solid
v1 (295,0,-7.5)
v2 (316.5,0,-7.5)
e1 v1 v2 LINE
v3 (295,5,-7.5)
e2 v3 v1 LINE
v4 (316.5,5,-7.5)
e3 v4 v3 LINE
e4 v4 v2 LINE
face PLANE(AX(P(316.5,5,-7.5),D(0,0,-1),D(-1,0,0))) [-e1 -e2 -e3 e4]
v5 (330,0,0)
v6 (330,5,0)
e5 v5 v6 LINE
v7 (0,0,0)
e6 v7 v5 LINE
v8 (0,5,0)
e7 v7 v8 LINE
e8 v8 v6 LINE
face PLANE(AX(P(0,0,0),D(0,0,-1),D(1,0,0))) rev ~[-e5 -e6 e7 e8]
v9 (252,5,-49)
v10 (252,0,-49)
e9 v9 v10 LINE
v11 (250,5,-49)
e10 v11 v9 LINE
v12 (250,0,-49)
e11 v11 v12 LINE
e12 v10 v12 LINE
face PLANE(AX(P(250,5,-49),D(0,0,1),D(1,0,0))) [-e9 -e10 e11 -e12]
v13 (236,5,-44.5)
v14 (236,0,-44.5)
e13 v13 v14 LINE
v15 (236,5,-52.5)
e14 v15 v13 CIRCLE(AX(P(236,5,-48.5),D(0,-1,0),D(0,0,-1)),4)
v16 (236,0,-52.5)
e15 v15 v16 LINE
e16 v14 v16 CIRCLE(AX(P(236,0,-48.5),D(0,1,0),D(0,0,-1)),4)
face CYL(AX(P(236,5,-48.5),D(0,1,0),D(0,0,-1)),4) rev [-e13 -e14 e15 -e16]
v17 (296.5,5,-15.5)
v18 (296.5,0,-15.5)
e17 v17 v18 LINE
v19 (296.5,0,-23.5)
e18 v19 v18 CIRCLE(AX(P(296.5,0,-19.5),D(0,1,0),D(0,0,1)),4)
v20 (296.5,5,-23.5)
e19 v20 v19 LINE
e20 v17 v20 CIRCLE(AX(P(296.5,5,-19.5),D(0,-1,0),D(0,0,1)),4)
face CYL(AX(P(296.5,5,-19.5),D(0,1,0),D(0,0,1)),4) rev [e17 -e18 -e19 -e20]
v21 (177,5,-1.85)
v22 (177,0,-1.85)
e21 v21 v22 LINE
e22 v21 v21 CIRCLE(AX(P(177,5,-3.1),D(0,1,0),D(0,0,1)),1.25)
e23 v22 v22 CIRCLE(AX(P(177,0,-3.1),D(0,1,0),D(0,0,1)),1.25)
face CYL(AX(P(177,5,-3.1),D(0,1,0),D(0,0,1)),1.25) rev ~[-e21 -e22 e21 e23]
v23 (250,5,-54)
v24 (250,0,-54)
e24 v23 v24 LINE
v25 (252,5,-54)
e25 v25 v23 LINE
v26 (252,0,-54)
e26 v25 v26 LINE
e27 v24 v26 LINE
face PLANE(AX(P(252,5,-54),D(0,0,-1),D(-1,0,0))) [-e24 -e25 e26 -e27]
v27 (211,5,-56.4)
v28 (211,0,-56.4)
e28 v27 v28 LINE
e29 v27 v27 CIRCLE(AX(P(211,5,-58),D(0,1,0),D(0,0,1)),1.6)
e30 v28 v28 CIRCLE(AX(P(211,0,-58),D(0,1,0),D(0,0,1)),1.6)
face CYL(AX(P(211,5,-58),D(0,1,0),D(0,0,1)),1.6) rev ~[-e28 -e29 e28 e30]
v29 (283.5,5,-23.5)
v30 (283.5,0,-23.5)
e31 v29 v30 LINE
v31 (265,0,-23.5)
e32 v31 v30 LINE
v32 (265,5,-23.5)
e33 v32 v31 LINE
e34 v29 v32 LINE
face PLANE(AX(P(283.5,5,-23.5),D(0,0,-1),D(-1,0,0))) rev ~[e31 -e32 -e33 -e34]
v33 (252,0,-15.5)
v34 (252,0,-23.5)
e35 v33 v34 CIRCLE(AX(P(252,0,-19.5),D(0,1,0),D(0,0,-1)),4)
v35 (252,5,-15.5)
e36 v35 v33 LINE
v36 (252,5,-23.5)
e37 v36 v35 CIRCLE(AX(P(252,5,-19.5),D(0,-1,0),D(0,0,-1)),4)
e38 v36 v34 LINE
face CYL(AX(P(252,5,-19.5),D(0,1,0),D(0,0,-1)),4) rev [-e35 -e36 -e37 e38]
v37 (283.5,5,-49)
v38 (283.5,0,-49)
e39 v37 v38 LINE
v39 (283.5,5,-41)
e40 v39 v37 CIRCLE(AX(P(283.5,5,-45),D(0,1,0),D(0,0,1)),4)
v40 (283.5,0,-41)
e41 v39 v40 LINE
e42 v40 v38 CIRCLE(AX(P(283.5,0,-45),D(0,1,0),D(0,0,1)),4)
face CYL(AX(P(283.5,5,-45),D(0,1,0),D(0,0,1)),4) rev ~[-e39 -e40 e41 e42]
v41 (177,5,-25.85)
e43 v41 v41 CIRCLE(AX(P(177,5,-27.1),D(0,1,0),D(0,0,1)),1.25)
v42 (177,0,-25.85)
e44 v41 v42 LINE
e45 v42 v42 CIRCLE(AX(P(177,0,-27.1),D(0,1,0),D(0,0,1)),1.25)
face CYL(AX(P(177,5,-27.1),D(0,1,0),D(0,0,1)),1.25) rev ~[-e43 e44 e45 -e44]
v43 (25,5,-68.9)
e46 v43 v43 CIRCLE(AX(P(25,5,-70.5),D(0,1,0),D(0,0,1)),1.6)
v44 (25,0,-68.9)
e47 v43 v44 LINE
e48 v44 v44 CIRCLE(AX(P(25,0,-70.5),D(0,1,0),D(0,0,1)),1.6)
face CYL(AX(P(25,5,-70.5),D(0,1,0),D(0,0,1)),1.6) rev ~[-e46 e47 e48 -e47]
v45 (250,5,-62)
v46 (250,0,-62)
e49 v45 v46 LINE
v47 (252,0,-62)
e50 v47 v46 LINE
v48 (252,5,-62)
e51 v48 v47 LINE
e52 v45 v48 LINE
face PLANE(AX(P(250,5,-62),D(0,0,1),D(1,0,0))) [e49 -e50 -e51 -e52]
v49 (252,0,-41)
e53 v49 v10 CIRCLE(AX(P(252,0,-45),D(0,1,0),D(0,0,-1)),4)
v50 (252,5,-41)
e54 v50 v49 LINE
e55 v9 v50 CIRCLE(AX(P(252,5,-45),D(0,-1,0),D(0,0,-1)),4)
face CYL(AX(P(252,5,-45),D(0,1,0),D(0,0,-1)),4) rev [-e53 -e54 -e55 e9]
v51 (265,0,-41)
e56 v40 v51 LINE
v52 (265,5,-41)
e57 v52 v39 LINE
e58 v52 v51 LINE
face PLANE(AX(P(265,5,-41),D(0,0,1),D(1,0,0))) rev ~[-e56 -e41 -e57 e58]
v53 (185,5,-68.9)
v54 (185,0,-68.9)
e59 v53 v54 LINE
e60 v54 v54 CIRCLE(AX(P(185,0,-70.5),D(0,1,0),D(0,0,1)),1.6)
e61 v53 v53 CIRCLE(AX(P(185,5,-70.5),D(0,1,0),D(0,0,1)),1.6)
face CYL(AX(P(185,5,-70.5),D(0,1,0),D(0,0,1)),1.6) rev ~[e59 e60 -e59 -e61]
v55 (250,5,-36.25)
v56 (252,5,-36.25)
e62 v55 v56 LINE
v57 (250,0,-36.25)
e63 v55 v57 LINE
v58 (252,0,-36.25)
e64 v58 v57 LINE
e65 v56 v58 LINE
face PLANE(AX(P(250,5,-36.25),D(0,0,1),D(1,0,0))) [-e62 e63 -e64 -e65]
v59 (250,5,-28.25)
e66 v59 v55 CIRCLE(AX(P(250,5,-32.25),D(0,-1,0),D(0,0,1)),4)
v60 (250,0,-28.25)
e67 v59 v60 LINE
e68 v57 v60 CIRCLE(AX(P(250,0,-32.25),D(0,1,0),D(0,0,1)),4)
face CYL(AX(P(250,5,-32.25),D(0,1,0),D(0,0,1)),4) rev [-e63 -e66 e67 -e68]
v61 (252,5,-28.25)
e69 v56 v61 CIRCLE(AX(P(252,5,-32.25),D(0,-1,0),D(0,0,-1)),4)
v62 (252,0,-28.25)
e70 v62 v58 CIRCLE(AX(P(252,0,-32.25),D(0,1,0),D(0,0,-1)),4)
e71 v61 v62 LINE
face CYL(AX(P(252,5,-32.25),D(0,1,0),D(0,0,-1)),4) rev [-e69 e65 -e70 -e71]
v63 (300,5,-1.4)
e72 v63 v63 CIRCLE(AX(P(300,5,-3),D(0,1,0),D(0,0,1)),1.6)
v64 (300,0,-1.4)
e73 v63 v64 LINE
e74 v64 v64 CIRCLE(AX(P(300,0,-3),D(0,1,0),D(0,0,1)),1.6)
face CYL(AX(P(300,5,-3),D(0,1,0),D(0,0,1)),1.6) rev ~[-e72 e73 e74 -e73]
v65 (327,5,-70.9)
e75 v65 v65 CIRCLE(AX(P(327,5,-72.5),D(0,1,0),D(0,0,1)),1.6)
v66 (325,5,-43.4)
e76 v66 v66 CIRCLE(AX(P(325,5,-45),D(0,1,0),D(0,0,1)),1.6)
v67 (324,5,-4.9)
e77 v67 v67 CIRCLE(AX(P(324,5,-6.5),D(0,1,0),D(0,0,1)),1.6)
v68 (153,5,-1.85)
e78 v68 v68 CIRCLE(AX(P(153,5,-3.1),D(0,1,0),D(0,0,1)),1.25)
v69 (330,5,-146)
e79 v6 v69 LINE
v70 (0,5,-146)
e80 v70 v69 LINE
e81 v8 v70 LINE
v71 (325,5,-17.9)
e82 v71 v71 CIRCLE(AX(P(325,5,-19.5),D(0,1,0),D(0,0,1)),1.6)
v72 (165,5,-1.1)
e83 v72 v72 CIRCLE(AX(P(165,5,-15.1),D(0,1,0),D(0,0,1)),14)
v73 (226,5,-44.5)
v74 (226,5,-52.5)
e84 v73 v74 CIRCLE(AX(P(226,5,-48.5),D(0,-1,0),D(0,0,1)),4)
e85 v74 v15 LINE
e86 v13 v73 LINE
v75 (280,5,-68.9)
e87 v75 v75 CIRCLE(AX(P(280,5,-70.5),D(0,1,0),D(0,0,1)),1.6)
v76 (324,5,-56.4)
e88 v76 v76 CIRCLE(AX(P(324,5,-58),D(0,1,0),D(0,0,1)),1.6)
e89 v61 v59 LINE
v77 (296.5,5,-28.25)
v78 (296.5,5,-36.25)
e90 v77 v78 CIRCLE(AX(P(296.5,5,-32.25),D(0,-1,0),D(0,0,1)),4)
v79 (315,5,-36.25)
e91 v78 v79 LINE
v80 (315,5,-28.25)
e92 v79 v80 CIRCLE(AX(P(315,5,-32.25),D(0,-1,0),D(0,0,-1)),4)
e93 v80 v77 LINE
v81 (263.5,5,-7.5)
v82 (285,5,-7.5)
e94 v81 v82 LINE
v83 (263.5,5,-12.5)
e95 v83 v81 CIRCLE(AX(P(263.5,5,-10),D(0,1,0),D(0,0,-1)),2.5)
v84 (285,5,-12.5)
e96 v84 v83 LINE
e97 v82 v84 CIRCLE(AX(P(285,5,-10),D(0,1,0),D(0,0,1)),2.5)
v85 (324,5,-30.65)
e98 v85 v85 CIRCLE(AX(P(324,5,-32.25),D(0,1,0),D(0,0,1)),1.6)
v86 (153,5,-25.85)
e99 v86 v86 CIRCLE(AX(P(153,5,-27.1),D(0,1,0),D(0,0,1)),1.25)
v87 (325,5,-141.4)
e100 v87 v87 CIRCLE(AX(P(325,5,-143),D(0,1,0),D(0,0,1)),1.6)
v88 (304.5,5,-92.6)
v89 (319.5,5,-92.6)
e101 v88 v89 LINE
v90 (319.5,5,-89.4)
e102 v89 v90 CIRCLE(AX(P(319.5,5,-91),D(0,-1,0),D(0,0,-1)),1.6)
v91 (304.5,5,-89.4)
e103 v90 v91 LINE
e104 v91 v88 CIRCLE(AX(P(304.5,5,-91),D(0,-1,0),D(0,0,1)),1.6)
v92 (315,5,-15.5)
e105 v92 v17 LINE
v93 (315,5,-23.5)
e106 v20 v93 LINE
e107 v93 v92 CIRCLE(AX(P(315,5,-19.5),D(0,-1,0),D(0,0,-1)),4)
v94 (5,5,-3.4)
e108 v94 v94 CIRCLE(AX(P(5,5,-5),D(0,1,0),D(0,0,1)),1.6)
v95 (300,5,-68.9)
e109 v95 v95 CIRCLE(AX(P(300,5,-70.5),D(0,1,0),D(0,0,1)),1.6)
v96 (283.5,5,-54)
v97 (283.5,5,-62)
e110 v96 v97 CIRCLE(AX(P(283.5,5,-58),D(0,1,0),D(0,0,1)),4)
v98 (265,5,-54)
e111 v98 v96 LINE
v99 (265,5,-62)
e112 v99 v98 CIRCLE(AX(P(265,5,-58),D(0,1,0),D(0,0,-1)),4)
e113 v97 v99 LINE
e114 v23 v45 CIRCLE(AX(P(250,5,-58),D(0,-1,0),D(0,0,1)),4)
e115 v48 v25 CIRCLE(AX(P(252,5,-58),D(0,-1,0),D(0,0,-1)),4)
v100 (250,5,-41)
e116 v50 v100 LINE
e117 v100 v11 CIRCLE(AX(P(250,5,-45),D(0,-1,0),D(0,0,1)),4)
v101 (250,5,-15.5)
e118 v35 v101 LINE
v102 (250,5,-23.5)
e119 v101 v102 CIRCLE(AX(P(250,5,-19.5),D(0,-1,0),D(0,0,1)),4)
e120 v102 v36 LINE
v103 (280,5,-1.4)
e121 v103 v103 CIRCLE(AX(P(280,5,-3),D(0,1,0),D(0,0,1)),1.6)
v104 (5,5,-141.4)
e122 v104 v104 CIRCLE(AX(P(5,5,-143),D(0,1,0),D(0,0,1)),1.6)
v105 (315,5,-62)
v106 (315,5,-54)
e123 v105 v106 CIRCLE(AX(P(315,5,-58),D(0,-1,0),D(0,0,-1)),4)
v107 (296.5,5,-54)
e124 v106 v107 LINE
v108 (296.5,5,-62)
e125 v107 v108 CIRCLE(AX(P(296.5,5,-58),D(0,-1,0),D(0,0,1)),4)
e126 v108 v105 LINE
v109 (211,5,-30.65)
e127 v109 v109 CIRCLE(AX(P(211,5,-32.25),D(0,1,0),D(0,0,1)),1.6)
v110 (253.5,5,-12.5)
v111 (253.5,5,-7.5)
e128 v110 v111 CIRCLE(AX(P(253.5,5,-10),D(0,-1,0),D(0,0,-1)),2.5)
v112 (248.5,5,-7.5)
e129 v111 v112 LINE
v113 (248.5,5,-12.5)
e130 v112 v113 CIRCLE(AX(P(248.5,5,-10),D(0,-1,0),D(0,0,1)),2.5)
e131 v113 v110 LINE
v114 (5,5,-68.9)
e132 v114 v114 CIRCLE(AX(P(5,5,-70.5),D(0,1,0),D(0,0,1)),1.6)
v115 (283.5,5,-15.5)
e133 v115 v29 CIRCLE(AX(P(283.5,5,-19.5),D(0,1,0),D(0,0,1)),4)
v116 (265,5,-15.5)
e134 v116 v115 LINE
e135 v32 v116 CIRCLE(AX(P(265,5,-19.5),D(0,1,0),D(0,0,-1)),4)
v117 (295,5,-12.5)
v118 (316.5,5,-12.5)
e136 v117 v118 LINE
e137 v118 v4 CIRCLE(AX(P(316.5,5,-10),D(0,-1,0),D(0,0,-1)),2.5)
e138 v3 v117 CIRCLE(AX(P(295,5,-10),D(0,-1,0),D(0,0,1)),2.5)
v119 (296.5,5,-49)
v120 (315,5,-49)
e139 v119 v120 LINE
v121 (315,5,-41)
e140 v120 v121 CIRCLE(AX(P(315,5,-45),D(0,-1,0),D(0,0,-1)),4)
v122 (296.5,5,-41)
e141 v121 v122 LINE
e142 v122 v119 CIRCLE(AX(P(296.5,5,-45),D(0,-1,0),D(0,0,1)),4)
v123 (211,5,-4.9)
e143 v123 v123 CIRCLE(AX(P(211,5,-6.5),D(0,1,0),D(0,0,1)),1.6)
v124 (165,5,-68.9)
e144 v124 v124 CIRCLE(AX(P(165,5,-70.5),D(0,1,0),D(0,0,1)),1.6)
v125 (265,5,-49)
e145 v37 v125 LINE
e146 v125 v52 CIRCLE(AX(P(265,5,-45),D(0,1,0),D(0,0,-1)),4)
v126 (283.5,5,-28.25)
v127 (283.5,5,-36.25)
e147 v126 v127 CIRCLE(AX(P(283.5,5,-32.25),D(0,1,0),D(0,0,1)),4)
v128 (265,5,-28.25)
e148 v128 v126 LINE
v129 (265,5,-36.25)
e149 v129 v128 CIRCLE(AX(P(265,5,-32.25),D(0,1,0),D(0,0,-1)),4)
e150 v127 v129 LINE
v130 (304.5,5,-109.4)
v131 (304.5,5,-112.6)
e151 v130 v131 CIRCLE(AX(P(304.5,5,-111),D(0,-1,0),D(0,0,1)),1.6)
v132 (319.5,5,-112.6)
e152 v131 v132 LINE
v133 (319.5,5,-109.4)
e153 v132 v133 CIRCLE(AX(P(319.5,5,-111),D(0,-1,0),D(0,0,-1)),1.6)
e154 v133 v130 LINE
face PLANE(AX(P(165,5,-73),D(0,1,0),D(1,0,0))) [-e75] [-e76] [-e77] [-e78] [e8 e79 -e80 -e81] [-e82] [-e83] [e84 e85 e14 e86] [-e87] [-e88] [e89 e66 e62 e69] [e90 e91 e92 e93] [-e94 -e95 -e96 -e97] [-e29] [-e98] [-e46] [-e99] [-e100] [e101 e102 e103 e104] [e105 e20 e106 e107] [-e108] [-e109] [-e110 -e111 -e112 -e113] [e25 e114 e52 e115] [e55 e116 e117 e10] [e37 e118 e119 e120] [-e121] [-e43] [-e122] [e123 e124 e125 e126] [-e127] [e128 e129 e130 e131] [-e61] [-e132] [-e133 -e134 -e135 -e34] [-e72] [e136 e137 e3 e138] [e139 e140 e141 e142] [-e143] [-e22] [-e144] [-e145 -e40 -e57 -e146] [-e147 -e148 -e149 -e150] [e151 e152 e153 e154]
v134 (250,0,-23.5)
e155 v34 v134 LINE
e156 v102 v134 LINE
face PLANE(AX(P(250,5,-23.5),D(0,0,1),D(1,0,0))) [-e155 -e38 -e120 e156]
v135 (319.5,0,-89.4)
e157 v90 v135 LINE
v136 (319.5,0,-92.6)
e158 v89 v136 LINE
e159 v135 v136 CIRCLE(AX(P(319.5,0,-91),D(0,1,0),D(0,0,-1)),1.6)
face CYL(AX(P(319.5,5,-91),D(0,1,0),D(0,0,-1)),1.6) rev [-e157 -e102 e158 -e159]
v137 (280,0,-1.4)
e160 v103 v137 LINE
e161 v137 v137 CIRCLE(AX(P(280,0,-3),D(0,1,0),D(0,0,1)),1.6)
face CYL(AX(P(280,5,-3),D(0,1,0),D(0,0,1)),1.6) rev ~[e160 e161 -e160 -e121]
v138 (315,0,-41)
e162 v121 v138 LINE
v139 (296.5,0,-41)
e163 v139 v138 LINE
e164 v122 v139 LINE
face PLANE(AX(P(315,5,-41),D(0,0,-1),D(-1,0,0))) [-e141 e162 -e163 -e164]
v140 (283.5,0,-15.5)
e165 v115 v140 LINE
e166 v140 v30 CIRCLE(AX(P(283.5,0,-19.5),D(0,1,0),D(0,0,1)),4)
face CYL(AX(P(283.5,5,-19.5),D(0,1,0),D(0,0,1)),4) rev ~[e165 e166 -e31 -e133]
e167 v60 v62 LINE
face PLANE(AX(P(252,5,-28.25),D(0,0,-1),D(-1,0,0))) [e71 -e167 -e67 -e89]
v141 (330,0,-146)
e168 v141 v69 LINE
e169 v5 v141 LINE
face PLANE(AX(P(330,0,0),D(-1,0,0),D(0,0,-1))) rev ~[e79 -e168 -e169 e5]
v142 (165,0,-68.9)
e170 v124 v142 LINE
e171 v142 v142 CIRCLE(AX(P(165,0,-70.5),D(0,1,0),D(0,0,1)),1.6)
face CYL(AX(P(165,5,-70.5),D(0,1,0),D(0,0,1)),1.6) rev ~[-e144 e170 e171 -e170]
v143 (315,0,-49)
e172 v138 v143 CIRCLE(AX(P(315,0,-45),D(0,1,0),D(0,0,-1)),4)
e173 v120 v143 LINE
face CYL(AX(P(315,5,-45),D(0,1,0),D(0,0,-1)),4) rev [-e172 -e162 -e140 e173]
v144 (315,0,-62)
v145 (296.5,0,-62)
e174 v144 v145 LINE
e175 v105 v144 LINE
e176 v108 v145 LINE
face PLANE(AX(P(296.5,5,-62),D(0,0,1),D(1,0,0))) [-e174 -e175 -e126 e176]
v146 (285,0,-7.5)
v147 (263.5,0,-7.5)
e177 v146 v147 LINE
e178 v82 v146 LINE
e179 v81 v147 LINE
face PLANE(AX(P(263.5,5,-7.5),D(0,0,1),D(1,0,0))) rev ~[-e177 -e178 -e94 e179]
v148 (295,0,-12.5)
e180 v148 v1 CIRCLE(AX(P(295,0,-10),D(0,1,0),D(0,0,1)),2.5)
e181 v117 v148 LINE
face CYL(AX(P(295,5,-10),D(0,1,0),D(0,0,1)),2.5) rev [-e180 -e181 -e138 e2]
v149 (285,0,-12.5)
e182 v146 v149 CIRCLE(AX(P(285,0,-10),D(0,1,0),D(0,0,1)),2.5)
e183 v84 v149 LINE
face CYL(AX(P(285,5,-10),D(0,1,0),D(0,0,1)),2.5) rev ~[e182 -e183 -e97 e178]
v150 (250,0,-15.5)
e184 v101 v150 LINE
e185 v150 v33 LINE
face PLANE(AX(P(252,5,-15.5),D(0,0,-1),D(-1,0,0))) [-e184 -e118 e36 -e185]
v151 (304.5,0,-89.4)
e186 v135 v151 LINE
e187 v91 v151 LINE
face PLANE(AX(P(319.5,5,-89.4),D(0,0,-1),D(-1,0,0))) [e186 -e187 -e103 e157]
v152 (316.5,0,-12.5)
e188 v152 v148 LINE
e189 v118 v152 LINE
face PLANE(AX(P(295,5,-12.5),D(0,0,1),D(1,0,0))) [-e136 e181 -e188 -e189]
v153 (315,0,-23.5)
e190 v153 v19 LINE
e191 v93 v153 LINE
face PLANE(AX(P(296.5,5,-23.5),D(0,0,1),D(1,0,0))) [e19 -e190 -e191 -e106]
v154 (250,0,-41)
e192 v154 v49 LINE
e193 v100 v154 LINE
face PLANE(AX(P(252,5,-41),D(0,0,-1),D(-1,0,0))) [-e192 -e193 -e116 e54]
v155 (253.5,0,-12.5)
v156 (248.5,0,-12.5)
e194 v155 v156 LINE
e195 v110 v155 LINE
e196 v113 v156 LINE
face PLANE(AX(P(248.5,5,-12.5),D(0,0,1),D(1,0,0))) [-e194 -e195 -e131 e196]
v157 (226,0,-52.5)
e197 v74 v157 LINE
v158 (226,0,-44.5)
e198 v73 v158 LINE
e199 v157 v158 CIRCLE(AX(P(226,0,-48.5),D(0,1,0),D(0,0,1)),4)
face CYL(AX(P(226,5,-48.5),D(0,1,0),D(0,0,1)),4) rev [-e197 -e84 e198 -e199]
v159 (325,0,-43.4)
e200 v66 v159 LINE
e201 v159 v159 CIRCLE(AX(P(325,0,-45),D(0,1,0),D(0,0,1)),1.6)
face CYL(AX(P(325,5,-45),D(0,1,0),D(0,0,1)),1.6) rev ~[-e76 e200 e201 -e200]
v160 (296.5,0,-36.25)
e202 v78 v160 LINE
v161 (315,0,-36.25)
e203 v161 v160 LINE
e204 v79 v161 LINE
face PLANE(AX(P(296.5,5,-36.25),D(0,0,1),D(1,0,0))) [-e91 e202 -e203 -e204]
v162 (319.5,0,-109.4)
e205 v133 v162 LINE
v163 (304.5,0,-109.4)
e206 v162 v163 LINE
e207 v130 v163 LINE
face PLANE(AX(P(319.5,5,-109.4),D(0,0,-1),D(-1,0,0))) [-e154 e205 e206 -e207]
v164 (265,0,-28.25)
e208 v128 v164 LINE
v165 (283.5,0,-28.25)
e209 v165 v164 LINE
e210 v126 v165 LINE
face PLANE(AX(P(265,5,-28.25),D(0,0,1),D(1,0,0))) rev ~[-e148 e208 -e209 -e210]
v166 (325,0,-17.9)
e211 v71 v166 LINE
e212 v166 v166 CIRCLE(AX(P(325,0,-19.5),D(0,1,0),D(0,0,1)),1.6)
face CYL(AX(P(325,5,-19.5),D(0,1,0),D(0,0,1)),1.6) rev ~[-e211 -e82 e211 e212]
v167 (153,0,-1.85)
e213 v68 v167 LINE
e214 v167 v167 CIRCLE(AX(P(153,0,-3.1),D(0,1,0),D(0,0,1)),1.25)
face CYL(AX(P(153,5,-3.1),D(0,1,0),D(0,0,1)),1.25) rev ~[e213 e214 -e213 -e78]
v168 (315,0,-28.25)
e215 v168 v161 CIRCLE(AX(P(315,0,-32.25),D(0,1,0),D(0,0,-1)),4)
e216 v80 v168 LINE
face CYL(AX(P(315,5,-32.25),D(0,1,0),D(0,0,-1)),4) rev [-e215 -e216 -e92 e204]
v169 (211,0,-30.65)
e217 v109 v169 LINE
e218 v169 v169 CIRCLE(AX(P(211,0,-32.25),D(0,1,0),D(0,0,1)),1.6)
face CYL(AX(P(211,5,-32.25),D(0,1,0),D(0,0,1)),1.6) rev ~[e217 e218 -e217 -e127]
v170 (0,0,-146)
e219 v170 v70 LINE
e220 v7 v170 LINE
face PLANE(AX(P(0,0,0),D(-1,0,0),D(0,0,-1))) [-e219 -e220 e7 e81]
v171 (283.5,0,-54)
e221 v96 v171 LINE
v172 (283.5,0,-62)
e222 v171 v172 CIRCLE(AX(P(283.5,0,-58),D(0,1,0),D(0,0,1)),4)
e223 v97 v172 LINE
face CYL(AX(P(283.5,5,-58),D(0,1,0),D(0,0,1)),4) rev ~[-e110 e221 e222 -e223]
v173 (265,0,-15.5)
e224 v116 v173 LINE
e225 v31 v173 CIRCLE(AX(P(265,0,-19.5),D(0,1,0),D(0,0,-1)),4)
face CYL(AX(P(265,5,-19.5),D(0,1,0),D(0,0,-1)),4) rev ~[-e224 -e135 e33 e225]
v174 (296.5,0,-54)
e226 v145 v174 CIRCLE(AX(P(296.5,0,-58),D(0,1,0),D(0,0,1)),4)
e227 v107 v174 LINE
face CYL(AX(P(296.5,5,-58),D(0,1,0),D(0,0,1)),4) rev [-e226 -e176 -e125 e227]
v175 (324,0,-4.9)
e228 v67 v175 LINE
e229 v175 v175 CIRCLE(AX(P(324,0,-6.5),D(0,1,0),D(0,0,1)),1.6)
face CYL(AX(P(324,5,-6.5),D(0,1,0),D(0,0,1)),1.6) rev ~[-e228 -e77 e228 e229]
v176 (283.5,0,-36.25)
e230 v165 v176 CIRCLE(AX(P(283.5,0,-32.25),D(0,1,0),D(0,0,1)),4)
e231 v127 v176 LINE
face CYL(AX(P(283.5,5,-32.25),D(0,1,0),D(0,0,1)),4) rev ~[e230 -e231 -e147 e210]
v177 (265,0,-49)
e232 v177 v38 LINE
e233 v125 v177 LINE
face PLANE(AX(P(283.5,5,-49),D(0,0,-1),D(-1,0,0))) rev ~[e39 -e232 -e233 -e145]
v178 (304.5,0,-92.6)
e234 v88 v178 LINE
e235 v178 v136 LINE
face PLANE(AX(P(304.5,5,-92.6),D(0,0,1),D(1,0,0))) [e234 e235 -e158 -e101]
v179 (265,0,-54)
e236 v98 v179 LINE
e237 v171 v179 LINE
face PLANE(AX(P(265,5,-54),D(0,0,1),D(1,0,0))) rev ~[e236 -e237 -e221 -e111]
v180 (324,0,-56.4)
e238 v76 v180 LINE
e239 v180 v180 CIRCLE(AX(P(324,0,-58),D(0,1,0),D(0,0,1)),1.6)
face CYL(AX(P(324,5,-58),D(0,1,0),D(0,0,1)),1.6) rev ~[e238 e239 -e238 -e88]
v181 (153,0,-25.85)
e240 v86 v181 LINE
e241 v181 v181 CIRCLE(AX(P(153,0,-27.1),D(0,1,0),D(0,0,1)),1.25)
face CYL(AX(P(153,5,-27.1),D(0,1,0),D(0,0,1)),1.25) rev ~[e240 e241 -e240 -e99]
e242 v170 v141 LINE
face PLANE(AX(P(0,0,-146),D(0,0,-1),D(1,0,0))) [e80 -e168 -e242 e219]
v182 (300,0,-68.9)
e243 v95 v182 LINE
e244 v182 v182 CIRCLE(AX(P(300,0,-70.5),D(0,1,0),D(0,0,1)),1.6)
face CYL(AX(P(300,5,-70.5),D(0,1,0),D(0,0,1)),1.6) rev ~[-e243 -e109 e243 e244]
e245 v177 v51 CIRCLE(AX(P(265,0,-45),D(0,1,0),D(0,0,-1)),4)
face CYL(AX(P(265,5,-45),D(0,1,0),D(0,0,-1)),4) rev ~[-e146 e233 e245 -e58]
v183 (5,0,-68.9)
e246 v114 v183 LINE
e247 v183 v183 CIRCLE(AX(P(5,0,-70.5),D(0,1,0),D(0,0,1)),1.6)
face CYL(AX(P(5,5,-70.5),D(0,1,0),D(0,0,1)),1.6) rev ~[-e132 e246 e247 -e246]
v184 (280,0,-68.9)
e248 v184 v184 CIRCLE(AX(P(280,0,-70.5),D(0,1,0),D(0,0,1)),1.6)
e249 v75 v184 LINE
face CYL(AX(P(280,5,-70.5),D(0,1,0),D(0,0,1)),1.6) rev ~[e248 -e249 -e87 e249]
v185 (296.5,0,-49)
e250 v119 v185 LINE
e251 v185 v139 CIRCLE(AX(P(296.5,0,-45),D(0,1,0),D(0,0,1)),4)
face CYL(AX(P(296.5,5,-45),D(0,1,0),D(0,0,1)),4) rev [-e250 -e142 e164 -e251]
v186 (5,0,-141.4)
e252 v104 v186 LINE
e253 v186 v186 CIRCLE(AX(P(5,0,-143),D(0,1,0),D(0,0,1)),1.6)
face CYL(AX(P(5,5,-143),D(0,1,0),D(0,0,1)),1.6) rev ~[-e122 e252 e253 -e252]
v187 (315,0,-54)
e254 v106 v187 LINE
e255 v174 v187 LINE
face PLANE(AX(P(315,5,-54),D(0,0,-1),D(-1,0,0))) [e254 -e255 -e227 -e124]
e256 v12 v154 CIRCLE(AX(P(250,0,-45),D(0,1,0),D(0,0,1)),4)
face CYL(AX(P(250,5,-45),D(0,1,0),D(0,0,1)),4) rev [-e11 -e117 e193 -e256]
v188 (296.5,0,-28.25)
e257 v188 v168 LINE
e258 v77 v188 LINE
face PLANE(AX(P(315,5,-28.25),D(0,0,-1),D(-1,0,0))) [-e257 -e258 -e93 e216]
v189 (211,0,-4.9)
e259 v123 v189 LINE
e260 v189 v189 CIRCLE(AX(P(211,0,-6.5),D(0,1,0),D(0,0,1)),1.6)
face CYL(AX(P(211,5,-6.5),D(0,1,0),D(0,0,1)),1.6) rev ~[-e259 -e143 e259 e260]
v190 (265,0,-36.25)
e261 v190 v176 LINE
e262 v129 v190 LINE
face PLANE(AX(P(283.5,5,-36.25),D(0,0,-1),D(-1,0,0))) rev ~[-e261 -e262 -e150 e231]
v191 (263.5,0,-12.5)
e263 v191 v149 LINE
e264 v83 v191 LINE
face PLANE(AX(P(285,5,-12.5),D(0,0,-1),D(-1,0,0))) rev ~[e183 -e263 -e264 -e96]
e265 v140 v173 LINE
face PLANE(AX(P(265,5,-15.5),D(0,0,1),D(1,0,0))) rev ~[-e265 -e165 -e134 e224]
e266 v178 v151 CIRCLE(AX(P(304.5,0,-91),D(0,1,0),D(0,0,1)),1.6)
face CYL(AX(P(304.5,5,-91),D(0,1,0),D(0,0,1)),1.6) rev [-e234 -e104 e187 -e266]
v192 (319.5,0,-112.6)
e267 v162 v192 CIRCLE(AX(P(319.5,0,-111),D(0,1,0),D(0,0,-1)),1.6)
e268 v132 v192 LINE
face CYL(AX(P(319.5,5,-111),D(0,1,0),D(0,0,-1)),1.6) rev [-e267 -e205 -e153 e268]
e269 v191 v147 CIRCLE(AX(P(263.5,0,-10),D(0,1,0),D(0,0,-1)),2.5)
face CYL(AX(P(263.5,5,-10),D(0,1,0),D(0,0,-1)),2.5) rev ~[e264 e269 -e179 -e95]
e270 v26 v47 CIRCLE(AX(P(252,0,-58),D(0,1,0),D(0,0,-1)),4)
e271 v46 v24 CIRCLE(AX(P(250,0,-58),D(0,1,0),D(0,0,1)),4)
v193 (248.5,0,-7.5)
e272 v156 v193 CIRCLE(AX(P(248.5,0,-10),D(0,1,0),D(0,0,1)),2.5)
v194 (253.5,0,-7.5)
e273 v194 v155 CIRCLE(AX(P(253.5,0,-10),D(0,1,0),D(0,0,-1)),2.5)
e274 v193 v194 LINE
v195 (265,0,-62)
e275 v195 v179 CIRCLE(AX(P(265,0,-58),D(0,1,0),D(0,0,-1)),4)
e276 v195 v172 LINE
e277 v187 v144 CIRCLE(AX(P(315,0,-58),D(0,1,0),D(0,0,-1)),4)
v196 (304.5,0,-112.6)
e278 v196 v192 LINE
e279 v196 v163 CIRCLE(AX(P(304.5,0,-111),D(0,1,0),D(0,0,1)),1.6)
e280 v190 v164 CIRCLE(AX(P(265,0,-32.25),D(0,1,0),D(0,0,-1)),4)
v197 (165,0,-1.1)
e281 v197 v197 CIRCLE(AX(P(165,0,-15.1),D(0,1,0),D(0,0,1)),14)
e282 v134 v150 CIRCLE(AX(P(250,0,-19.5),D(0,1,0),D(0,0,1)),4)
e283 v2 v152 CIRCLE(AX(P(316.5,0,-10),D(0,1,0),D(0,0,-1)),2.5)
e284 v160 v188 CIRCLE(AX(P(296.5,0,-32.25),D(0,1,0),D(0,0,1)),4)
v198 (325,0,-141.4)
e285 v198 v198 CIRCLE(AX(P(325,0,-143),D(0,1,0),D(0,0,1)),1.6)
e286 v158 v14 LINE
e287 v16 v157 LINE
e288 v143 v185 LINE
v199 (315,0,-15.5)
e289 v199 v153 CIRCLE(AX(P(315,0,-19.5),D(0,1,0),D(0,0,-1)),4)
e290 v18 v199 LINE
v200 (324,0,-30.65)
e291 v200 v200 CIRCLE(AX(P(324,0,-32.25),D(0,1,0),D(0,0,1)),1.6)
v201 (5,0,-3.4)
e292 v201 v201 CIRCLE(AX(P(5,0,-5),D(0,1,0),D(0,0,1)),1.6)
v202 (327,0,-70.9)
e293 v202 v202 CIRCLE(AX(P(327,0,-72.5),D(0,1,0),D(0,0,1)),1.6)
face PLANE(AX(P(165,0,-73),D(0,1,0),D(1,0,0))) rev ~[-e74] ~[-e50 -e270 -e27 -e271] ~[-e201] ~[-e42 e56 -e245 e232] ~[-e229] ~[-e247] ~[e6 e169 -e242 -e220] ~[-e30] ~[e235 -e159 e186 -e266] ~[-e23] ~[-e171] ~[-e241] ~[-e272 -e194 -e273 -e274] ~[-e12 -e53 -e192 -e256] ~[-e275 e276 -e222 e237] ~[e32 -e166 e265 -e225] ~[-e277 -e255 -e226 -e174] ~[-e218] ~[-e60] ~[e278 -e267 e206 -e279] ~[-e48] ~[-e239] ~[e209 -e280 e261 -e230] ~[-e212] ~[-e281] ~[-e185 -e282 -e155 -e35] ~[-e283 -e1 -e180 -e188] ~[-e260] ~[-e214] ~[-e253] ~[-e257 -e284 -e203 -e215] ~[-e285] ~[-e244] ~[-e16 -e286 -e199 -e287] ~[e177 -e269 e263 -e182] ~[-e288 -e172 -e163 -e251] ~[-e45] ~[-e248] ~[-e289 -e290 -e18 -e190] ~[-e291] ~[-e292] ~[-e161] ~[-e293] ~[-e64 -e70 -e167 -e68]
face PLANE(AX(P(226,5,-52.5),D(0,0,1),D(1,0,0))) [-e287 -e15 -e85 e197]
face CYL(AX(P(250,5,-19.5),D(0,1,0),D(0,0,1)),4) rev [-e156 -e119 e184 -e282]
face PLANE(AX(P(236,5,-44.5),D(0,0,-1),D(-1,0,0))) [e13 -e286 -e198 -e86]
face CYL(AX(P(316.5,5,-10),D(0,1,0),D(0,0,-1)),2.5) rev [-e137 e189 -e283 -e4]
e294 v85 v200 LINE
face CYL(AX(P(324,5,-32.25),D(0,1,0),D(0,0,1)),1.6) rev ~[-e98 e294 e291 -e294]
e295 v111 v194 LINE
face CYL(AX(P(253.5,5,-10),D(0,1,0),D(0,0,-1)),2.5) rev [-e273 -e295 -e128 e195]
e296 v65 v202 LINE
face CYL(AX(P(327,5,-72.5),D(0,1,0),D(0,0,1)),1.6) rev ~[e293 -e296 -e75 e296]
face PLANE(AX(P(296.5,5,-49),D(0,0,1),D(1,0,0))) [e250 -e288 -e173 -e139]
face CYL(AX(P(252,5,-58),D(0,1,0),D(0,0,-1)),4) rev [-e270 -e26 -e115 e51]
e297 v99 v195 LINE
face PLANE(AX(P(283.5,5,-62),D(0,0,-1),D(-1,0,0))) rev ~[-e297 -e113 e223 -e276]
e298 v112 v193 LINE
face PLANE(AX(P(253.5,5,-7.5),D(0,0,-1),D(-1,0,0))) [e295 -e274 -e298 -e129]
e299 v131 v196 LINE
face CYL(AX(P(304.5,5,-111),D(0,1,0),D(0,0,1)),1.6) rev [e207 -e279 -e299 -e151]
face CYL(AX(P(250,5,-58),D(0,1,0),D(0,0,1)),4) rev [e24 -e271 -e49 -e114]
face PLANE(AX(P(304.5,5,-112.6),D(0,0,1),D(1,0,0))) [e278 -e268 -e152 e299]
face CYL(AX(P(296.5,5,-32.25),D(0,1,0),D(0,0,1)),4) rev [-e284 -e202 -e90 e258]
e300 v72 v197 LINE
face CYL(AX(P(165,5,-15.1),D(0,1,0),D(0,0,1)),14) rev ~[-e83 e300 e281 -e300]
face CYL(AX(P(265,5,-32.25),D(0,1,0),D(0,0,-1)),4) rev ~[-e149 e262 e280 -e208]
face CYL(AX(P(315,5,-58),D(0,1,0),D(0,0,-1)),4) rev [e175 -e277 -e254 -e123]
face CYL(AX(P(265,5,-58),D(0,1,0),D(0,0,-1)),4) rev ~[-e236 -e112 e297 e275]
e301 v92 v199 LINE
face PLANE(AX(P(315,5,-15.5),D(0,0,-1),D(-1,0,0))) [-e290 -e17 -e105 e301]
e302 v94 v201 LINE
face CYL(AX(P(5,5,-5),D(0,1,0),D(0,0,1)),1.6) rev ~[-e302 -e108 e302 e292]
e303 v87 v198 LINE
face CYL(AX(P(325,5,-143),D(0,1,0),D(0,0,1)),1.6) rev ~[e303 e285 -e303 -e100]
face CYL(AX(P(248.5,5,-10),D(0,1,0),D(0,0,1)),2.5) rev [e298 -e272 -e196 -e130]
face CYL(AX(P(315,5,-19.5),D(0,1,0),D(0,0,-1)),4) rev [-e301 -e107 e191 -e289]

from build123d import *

# Parameters (mm, degrees)
SKETCH_1_W          = 330
SKETCH_1_H          = 146
EXTRUDE_1_DEPTH     = 5
SKETCH_2_R          = 1.6
CUT_EXTRUDE_1_DEPTH = 361.889179666
SKETCH_3_R          = 1.6
CUT_EXTRUDE_2_DEPTH = 361.889179666
CUT_EXTRUDE_3_REACH = 362.889
SKETCH_5_R          = 1.6
CUT_EXTRUDE_4_REACH = 362.889
SKETCH_7_R          = 14
SKETCH_7_R_2        = 1.25
CUT_EXTRUDE_5_DEPTH = 10


with BuildPart() as part:
    # 草图1 → 凸台-拉伸1 (new body)
    with BuildSketch(Plane(origin=(0, 0, 0), x_dir=(1, 0, 0), z_dir=(0, 1, 0))):
        with Locations((165, 73)):
            Rectangle(SKETCH_1_W, SKETCH_1_H)
    extrude(amount=EXTRUDE_1_DEPTH)

    # 草图2 → 切除-拉伸1 (cut, through all)
    with BuildSketch(Plane(origin=(0, 5, 0), x_dir=(1, 0, 0), z_dir=(0, 1, 0))):
        with Locations(Location((5, 70.5, 0), (0, 0, 270))):
            Circle(SKETCH_2_R)
        with Locations(Location((25, 70.5, 0), (0, 0, 270))):
            Circle(SKETCH_2_R)
        with Locations(Location((165, 70.5, 0), (0, 0, 270))):
            Circle(SKETCH_2_R)
        with Locations(Location((185, 70.5, 0), (0, 0, 270))):
            Circle(SKETCH_2_R)
        with Locations(Location((280, 3, 0), (0, 0, 270))):
            Circle(SKETCH_2_R)
        with Locations(Location((300, 3, 0), (0, 0, 270))):
            Circle(SKETCH_2_R)
        with Locations(Location((280, 70.5, 0), (0, 0, 270))):
            Circle(SKETCH_2_R)
        with Locations(Location((300, 70.5, 0), (0, 0, 270))):
            Circle(SKETCH_2_R)
        with BuildLine():
            Line((304.5, 112.6), (319.5, 112.6))
            ThreePointArc((319.5, 112.6), (321.1, 111), (319.5, 109.4))
            Line((319.5, 109.4), (304.5, 109.4))
            ThreePointArc((304.5, 109.4), (302.9, 111), (304.5, 112.6))
        make_face()
        with BuildLine():
            Line((304.5, 92.6), (319.5, 92.6))
            ThreePointArc((319.5, 92.6), (321.1, 91), (319.5, 89.4))
            Line((319.5, 89.4), (304.5, 89.4))
            ThreePointArc((304.5, 89.4), (302.9, 91), (304.5, 92.6))
        make_face()
    extrude(amount=-CUT_EXTRUDE_1_DEPTH, mode=Mode.SUBTRACT)

    # 草图3 → 切除-拉伸2 (cut, through all)
    with BuildSketch(Plane(origin=(0, 5, 0), x_dir=(1, 0, 0), z_dir=(0, 1, 0))):
        with Locations(Location((211, 58, 0), (0, 0, 270))):
            Circle(SKETCH_3_R)
        with Locations(Location((324, 58, 0), (0, 0, 270))):
            Circle(SKETCH_3_R)
        with Locations(Location((324, 32.25, 0), (0, 0, 270))):
            Circle(SKETCH_3_R)
        with Locations(Location((211, 32.25, 0), (0, 0, 270))):
            Circle(SKETCH_3_R)
        with Locations(Location((211, 6.5, 0), (0, 0, 270))):
            Circle(SKETCH_3_R)
        with Locations(Location((324, 6.5, 0), (0, 0, 270))):
            Circle(SKETCH_3_R)
    extrude(amount=-CUT_EXTRUDE_2_DEPTH, mode=Mode.SUBTRACT)

    # 草图5 → 切除-拉伸3 (cut, up to next)
    with BuildSketch(Plane(origin=(0, 5, 0), x_dir=(1, 0, 0), z_dir=(0, 1, 0)), mode=Mode.PRIVATE) as cut_extrude_3_sk1:
        with Locations(Location((325, 19.5, 0), (0, 0, 270))):
            Circle(SKETCH_5_R)
    cut_extrude_3_tool1 = extrude(cut_extrude_3_sk1.sketch, amount=-CUT_EXTRUDE_3_REACH, mode=Mode.PRIVATE) & part.part
    # 草图5 → 切除-拉伸3 (cut, up to next)
    with BuildSketch(Plane(origin=(0, 5, 0), x_dir=(1, 0, 0), z_dir=(0, 1, 0)), mode=Mode.PRIVATE) as cut_extrude_3_sk2:
        with Locations(Location((325, 45, 0), (0, 0, 270))):
            Circle(SKETCH_5_R)
    cut_extrude_3_tool2 = extrude(cut_extrude_3_sk2.sketch, amount=-CUT_EXTRUDE_3_REACH, mode=Mode.PRIVATE) & part.part
    # 草图5 → 切除-拉伸3 (cut, up to next)
    with BuildSketch(Plane(origin=(0, 5, 0), x_dir=(1, 0, 0), z_dir=(0, 1, 0)), mode=Mode.PRIVATE) as cut_extrude_3_sk3:
        with Locations(Location((327, 72.5, 0), (0, 0, 270))):
            Circle(SKETCH_5_R)
    cut_extrude_3_tool3 = extrude(cut_extrude_3_sk3.sketch, amount=-CUT_EXTRUDE_3_REACH, mode=Mode.PRIVATE) & part.part
    # 草图5 → 切除-拉伸3 (cut, up to next)
    with BuildSketch(Plane(origin=(0, 5, 0), x_dir=(1, 0, 0), z_dir=(0, 1, 0)), mode=Mode.PRIVATE) as cut_extrude_3_sk4:
        with Locations(Location((325, 143, 0), (0, 0, 270))):
            Circle(SKETCH_5_R)
    cut_extrude_3_tool4 = extrude(cut_extrude_3_sk4.sketch, amount=-CUT_EXTRUDE_3_REACH, mode=Mode.PRIVATE) & part.part
    # 草图5 → 切除-拉伸3 (cut, up to next)
    with BuildSketch(Plane(origin=(0, 5, 0), x_dir=(1, 0, 0), z_dir=(0, 1, 0)), mode=Mode.PRIVATE) as cut_extrude_3_sk5:
        with Locations(Location((5, 143, 0), (0, 0, 270))):
            Circle(SKETCH_5_R)
    cut_extrude_3_tool5 = extrude(cut_extrude_3_sk5.sketch, amount=-CUT_EXTRUDE_3_REACH, mode=Mode.PRIVATE) & part.part
    # 草图5 → 切除-拉伸3 (cut, up to next)
    with BuildSketch(Plane(origin=(0, 5, 0), x_dir=(1, 0, 0), z_dir=(0, 1, 0)), mode=Mode.PRIVATE) as cut_extrude_3_sk6:
        with Locations(Location((5, 5, 0), (0, 0, 270))):
            Circle(SKETCH_5_R)
    cut_extrude_3_tool6 = extrude(cut_extrude_3_sk6.sketch, amount=-CUT_EXTRUDE_3_REACH, mode=Mode.PRIVATE) & part.part
    add(cut_extrude_3_tool1.solids().sort_by_distance((325, 5, -19.5))[0], mode=Mode.SUBTRACT)
    add(cut_extrude_3_tool2.solids().sort_by_distance((325, 5, -45))[0], mode=Mode.SUBTRACT)
    add(cut_extrude_3_tool3.solids().sort_by_distance((327, 5, -72.5))[0], mode=Mode.SUBTRACT)
    add(cut_extrude_3_tool4.solids().sort_by_distance((325, 5, -143))[0], mode=Mode.SUBTRACT)
    add(cut_extrude_3_tool5.solids().sort_by_distance((5, 5, -143))[0], mode=Mode.SUBTRACT)
    add(cut_extrude_3_tool6.solids().sort_by_distance((5, 5, -5))[0], mode=Mode.SUBTRACT)

    # 草图6 → 切除-拉伸4 (cut, up to next)
    with BuildSketch(Plane(origin=(0, 5, 0), x_dir=(1, 0, 0), z_dir=(0, 1, 0)), mode=Mode.PRIVATE) as cut_extrude_4_sk1:
        with BuildLine():
            Line((296.5, 62), (315, 62))
            ThreePointArc((315, 62), (319, 58), (315, 54))
            Line((315, 54), (296.5, 54))
            ThreePointArc((296.5, 54), (292.5, 58), (296.5, 62))
        make_face()
    cut_extrude_4_tool1 = extrude(cut_extrude_4_sk1.sketch, amount=-CUT_EXTRUDE_4_REACH, mode=Mode.PRIVATE) & part.part
    # 草图6 → 切除-拉伸4 (cut, up to next)
    with BuildSketch(Plane(origin=(0, 5, 0), x_dir=(1, 0, 0), z_dir=(0, 1, 0)), mode=Mode.PRIVATE) as cut_extrude_4_sk2:
        with BuildLine():
            Line((315, 41), (296.5, 41))
            ThreePointArc((296.5, 41), (292.5, 45), (296.5, 49))
            Line((296.5, 49), (315, 49))
            ThreePointArc((315, 49), (319, 45), (315, 41))
        make_face()
    cut_extrude_4_tool2 = extrude(cut_extrude_4_sk2.sketch, amount=-CUT_EXTRUDE_4_REACH, mode=Mode.PRIVATE) & part.part
    # 草图6 → 切除-拉伸4 (cut, up to next)
    with BuildSketch(Plane(origin=(0, 5, 0), x_dir=(1, 0, 0), z_dir=(0, 1, 0)), mode=Mode.PRIVATE) as cut_extrude_4_sk3:
        with BuildLine():
            Line((296.5, 36.25), (315, 36.25))
            ThreePointArc((315, 36.25), (319, 32.25), (315, 28.25))
            Line((315, 28.25), (296.5, 28.25))
            ThreePointArc((296.5, 28.25), (292.5, 32.25), (296.5, 36.25))
        make_face()
    cut_extrude_4_tool3 = extrude(cut_extrude_4_sk3.sketch, amount=-CUT_EXTRUDE_4_REACH, mode=Mode.PRIVATE) & part.part
    # 草图6 → 切除-拉伸4 (cut, up to next)
    with BuildSketch(Plane(origin=(0, 5, 0), x_dir=(1, 0, 0), z_dir=(0, 1, 0)), mode=Mode.PRIVATE) as cut_extrude_4_sk4:
        with BuildLine():
            Line((296.5, 23.5), (315, 23.5))
            ThreePointArc((315, 23.5), (319, 19.5), (315, 15.5))
            Line((315, 15.5), (296.5, 15.5))
            ThreePointArc((296.5, 15.5), (292.5, 19.5), (296.5, 23.5))
        make_face()
    cut_extrude_4_tool4 = extrude(cut_extrude_4_sk4.sketch, amount=-CUT_EXTRUDE_4_REACH, mode=Mode.PRIVATE) & part.part
    # 草图6 → 切除-拉伸4 (cut, up to next)
    with BuildSketch(Plane(origin=(0, 5, 0), x_dir=(1, 0, 0), z_dir=(0, 1, 0)), mode=Mode.PRIVATE) as cut_extrude_4_sk5:
        with BuildLine():
            Line((283.5, 23.5), (265, 23.5))
            ThreePointArc((265, 23.5), (261, 19.5), (265, 15.5))
            Line((265, 15.5), (283.5, 15.5))
            ThreePointArc((283.5, 15.5), (287.5, 19.5), (283.5, 23.5))
        make_face()
    cut_extrude_4_tool5 = extrude(cut_extrude_4_sk5.sketch, amount=-CUT_EXTRUDE_4_REACH, mode=Mode.PRIVATE) & part.part
    # 草图6 → 切除-拉伸4 (cut, up to next)
    with BuildSketch(Plane(origin=(0, 5, 0), x_dir=(1, 0, 0), z_dir=(0, 1, 0)), mode=Mode.PRIVATE) as cut_extrude_4_sk6:
        with BuildLine():
            Line((283.5, 36.25), (265, 36.25))
            ThreePointArc((265, 36.25), (261, 32.25), (265, 28.25))
            Line((265, 28.25), (283.5, 28.25))
            ThreePointArc((283.5, 28.25), (287.5, 32.25), (283.5, 36.25))
        make_face()
    cut_extrude_4_tool6 = extrude(cut_extrude_4_sk6.sketch, amount=-CUT_EXTRUDE_4_REACH, mode=Mode.PRIVATE) & part.part
    # 草图6 → 切除-拉伸4 (cut, up to next)
    with BuildSketch(Plane(origin=(0, 5, 0), x_dir=(1, 0, 0), z_dir=(0, 1, 0)), mode=Mode.PRIVATE) as cut_extrude_4_sk7:
        with BuildLine():
            Line((265, 41), (283.5, 41))
            ThreePointArc((283.5, 41), (287.5, 45), (283.5, 49))
            Line((283.5, 49), (265, 49))
            ThreePointArc((265, 49), (261, 45), (265, 41))
        make_face()
    cut_extrude_4_tool7 = extrude(cut_extrude_4_sk7.sketch, amount=-CUT_EXTRUDE_4_REACH, mode=Mode.PRIVATE) & part.part
    # 草图6 → 切除-拉伸4 (cut, up to next)
    with BuildSketch(Plane(origin=(0, 5, 0), x_dir=(1, 0, 0), z_dir=(0, 1, 0)), mode=Mode.PRIVATE) as cut_extrude_4_sk8:
        with BuildLine():
            Line((283.5, 62), (265, 62))
            ThreePointArc((265, 62), (261, 58), (265, 54))
            Line((265, 54), (283.5, 54))
            ThreePointArc((283.5, 54), (287.5, 58), (283.5, 62))
        make_face()
    cut_extrude_4_tool8 = extrude(cut_extrude_4_sk8.sketch, amount=-CUT_EXTRUDE_4_REACH, mode=Mode.PRIVATE) & part.part
    # 草图6 → 切除-拉伸4 (cut, up to next)
    with BuildSketch(Plane(origin=(0, 5, 0), x_dir=(1, 0, 0), z_dir=(0, 1, 0)), mode=Mode.PRIVATE) as cut_extrude_4_sk9:
        with BuildLine():
            Line((295, 12.5), (316.5, 12.5))
            ThreePointArc((316.5, 12.5), (319, 10), (316.5, 7.5))
            Line((316.5, 7.5), (295, 7.5))
            ThreePointArc((295, 7.5), (292.5, 10), (295, 12.5))
        make_face()
    cut_extrude_4_tool9 = extrude(cut_extrude_4_sk9.sketch, amount=-CUT_EXTRUDE_4_REACH, mode=Mode.PRIVATE) & part.part
    # 草图6 → 切除-拉伸4 (cut, up to next)
    with BuildSketch(Plane(origin=(0, 5, 0), x_dir=(1, 0, 0), z_dir=(0, 1, 0)), mode=Mode.PRIVATE) as cut_extrude_4_sk10:
        with BuildLine():
            Line((285, 12.5), (263.5, 12.5))
            ThreePointArc((263.5, 12.5), (261, 10), (263.5, 7.5))
            Line((263.5, 7.5), (285, 7.5))
            ThreePointArc((285, 7.5), (287.5, 10), (285, 12.5))
        make_face()
    cut_extrude_4_tool10 = extrude(cut_extrude_4_sk10.sketch, amount=-CUT_EXTRUDE_4_REACH, mode=Mode.PRIVATE) & part.part
    # 草图6 → 切除-拉伸4 (cut, up to next)
    with BuildSketch(Plane(origin=(0, 5, 0), x_dir=(1, 0, 0), z_dir=(0, 1, 0)), mode=Mode.PRIVATE) as cut_extrude_4_sk11:
        with BuildLine():
            Line((250, 62), (252, 62))
            ThreePointArc((252, 62), (256, 58), (252, 54))
            Line((252, 54), (250, 54))
            ThreePointArc((250, 54), (246, 58), (250, 62))
        make_face()
    cut_extrude_4_tool11 = extrude(cut_extrude_4_sk11.sketch, amount=-CUT_EXTRUDE_4_REACH, mode=Mode.PRIVATE) & part.part
    # 草图6 → 切除-拉伸4 (cut, up to next)
    with BuildSketch(Plane(origin=(0, 5, 0), x_dir=(1, 0, 0), z_dir=(0, 1, 0)), mode=Mode.PRIVATE) as cut_extrude_4_sk12:
        with BuildLine():
            Line((250, 49), (252, 49))
            ThreePointArc((252, 49), (256, 45), (252, 41))
            Line((252, 41), (250, 41))
            ThreePointArc((250, 41), (246, 45), (250, 49))
        make_face()
    cut_extrude_4_tool12 = extrude(cut_extrude_4_sk12.sketch, amount=-CUT_EXTRUDE_4_REACH, mode=Mode.PRIVATE) & part.part
    # 草图6 → 切除-拉伸4 (cut, up to next)
    with BuildSketch(Plane(origin=(0, 5, 0), x_dir=(1, 0, 0), z_dir=(0, 1, 0)), mode=Mode.PRIVATE) as cut_extrude_4_sk13:
        with BuildLine():
            Line((250, 36.25), (252, 36.25))
            ThreePointArc((252, 36.25), (256, 32.25), (252, 28.25))
            Line((252, 28.25), (250, 28.25))
            ThreePointArc((250, 28.25), (246, 32.25), (250, 36.25))
        make_face()
    cut_extrude_4_tool13 = extrude(cut_extrude_4_sk13.sketch, amount=-CUT_EXTRUDE_4_REACH, mode=Mode.PRIVATE) & part.part
    # 草图6 → 切除-拉伸4 (cut, up to next)
    with BuildSketch(Plane(origin=(0, 5, 0), x_dir=(1, 0, 0), z_dir=(0, 1, 0)), mode=Mode.PRIVATE) as cut_extrude_4_sk14:
        with BuildLine():
            Line((250, 23.5), (252, 23.5))
            ThreePointArc((252, 23.5), (256, 19.5), (252, 15.5))
            Line((252, 15.5), (250, 15.5))
            ThreePointArc((250, 15.5), (246, 19.5), (250, 23.5))
        make_face()
    cut_extrude_4_tool14 = extrude(cut_extrude_4_sk14.sketch, amount=-CUT_EXTRUDE_4_REACH, mode=Mode.PRIVATE) & part.part
    # 草图6 → 切除-拉伸4 (cut, up to next)
    with BuildSketch(Plane(origin=(0, 5, 0), x_dir=(1, 0, 0), z_dir=(0, 1, 0)), mode=Mode.PRIVATE) as cut_extrude_4_sk15:
        with BuildLine():
            Line((248.5, 12.5), (253.5, 12.5))
            ThreePointArc((253.5, 12.5), (256, 10), (253.5, 7.5))
            Line((253.5, 7.5), (248.5, 7.5))
            ThreePointArc((248.5, 7.5), (246, 10), (248.5, 12.5))
        make_face()
    cut_extrude_4_tool15 = extrude(cut_extrude_4_sk15.sketch, amount=-CUT_EXTRUDE_4_REACH, mode=Mode.PRIVATE) & part.part
    # 草图6 → 切除-拉伸4 (cut, up to next)
    with BuildSketch(Plane(origin=(0, 5, 0), x_dir=(1, 0, 0), z_dir=(0, 1, 0)), mode=Mode.PRIVATE) as cut_extrude_4_sk16:
        with BuildLine():
            Line((226, 52.5), (236, 52.5))
            ThreePointArc((236, 52.5), (240, 48.5), (236, 44.5))
            Line((236, 44.5), (226, 44.5))
            ThreePointArc((226, 44.5), (222, 48.5), (226, 52.5))
        make_face()
    cut_extrude_4_tool16 = extrude(cut_extrude_4_sk16.sketch, amount=-CUT_EXTRUDE_4_REACH, mode=Mode.PRIVATE) & part.part
    add(cut_extrude_4_tool1.solids().sort_by_distance((305.75, 5, -58))[0], mode=Mode.SUBTRACT)
    add(cut_extrude_4_tool2.solids().sort_by_distance((305.75, 5, -45))[0], mode=Mode.SUBTRACT)
    add(cut_extrude_4_tool3.solids().sort_by_distance((305.75, 5, -32.25))[0], mode=Mode.SUBTRACT)
    add(cut_extrude_4_tool4.solids().sort_by_distance((305.75, 5, -19.5))[0], mode=Mode.SUBTRACT)
    add(cut_extrude_4_tool5.solids().sort_by_distance((274.25, 5, -19.5))[0], mode=Mode.SUBTRACT)
    add(cut_extrude_4_tool6.solids().sort_by_distance((274.25, 5, -32.25))[0], mode=Mode.SUBTRACT)
    add(cut_extrude_4_tool7.solids().sort_by_distance((274.25, 5, -45))[0], mode=Mode.SUBTRACT)
    add(cut_extrude_4_tool8.solids().sort_by_distance((274.25, 5, -58))[0], mode=Mode.SUBTRACT)
    add(cut_extrude_4_tool9.solids().sort_by_distance((305.75, 5, -10))[0], mode=Mode.SUBTRACT)
    add(cut_extrude_4_tool10.solids().sort_by_distance((274.25, 5, -10))[0], mode=Mode.SUBTRACT)
    add(cut_extrude_4_tool11.solids().sort_by_distance((251, 5, -58))[0], mode=Mode.SUBTRACT)
    add(cut_extrude_4_tool12.solids().sort_by_distance((251, 5, -45))[0], mode=Mode.SUBTRACT)
    add(cut_extrude_4_tool13.solids().sort_by_distance((251, 5, -32.25))[0], mode=Mode.SUBTRACT)
    add(cut_extrude_4_tool14.solids().sort_by_distance((251, 5, -19.5))[0], mode=Mode.SUBTRACT)
    add(cut_extrude_4_tool15.solids().sort_by_distance((251, 5, -10))[0], mode=Mode.SUBTRACT)
    add(cut_extrude_4_tool16.solids().sort_by_distance((231, 5, -48.5))[0], mode=Mode.SUBTRACT)

    # 草图7 → 切除-拉伸5 (cut)
    with BuildSketch(Plane(origin=(0, 5, 0), x_dir=(1, 0, 0), z_dir=(0, 1, 0))):
        with Locations(Location((165, 15.1, 0), (0, 0, 270))):
            Circle(SKETCH_7_R)
        with Locations(Location((153, 27.1, 0), (0, 0, 270))):
            Circle(SKETCH_7_R_2)
        with Locations(Location((177, 27.1, 0), (0, 0, 270))):
            Circle(SKETCH_7_R_2)
        with Locations(Location((177, 3.1, 0), (0, 0, 270))):
            Circle(SKETCH_7_R_2)
        with Locations(Location((153, 3.1, 0), (0, 0, 270))):
            Circle(SKETCH_7_R_2)
    extrude(amount=-CUT_EXTRUDE_5_DEPTH, mode=Mode.SUBTRACT)


solid = part.part
